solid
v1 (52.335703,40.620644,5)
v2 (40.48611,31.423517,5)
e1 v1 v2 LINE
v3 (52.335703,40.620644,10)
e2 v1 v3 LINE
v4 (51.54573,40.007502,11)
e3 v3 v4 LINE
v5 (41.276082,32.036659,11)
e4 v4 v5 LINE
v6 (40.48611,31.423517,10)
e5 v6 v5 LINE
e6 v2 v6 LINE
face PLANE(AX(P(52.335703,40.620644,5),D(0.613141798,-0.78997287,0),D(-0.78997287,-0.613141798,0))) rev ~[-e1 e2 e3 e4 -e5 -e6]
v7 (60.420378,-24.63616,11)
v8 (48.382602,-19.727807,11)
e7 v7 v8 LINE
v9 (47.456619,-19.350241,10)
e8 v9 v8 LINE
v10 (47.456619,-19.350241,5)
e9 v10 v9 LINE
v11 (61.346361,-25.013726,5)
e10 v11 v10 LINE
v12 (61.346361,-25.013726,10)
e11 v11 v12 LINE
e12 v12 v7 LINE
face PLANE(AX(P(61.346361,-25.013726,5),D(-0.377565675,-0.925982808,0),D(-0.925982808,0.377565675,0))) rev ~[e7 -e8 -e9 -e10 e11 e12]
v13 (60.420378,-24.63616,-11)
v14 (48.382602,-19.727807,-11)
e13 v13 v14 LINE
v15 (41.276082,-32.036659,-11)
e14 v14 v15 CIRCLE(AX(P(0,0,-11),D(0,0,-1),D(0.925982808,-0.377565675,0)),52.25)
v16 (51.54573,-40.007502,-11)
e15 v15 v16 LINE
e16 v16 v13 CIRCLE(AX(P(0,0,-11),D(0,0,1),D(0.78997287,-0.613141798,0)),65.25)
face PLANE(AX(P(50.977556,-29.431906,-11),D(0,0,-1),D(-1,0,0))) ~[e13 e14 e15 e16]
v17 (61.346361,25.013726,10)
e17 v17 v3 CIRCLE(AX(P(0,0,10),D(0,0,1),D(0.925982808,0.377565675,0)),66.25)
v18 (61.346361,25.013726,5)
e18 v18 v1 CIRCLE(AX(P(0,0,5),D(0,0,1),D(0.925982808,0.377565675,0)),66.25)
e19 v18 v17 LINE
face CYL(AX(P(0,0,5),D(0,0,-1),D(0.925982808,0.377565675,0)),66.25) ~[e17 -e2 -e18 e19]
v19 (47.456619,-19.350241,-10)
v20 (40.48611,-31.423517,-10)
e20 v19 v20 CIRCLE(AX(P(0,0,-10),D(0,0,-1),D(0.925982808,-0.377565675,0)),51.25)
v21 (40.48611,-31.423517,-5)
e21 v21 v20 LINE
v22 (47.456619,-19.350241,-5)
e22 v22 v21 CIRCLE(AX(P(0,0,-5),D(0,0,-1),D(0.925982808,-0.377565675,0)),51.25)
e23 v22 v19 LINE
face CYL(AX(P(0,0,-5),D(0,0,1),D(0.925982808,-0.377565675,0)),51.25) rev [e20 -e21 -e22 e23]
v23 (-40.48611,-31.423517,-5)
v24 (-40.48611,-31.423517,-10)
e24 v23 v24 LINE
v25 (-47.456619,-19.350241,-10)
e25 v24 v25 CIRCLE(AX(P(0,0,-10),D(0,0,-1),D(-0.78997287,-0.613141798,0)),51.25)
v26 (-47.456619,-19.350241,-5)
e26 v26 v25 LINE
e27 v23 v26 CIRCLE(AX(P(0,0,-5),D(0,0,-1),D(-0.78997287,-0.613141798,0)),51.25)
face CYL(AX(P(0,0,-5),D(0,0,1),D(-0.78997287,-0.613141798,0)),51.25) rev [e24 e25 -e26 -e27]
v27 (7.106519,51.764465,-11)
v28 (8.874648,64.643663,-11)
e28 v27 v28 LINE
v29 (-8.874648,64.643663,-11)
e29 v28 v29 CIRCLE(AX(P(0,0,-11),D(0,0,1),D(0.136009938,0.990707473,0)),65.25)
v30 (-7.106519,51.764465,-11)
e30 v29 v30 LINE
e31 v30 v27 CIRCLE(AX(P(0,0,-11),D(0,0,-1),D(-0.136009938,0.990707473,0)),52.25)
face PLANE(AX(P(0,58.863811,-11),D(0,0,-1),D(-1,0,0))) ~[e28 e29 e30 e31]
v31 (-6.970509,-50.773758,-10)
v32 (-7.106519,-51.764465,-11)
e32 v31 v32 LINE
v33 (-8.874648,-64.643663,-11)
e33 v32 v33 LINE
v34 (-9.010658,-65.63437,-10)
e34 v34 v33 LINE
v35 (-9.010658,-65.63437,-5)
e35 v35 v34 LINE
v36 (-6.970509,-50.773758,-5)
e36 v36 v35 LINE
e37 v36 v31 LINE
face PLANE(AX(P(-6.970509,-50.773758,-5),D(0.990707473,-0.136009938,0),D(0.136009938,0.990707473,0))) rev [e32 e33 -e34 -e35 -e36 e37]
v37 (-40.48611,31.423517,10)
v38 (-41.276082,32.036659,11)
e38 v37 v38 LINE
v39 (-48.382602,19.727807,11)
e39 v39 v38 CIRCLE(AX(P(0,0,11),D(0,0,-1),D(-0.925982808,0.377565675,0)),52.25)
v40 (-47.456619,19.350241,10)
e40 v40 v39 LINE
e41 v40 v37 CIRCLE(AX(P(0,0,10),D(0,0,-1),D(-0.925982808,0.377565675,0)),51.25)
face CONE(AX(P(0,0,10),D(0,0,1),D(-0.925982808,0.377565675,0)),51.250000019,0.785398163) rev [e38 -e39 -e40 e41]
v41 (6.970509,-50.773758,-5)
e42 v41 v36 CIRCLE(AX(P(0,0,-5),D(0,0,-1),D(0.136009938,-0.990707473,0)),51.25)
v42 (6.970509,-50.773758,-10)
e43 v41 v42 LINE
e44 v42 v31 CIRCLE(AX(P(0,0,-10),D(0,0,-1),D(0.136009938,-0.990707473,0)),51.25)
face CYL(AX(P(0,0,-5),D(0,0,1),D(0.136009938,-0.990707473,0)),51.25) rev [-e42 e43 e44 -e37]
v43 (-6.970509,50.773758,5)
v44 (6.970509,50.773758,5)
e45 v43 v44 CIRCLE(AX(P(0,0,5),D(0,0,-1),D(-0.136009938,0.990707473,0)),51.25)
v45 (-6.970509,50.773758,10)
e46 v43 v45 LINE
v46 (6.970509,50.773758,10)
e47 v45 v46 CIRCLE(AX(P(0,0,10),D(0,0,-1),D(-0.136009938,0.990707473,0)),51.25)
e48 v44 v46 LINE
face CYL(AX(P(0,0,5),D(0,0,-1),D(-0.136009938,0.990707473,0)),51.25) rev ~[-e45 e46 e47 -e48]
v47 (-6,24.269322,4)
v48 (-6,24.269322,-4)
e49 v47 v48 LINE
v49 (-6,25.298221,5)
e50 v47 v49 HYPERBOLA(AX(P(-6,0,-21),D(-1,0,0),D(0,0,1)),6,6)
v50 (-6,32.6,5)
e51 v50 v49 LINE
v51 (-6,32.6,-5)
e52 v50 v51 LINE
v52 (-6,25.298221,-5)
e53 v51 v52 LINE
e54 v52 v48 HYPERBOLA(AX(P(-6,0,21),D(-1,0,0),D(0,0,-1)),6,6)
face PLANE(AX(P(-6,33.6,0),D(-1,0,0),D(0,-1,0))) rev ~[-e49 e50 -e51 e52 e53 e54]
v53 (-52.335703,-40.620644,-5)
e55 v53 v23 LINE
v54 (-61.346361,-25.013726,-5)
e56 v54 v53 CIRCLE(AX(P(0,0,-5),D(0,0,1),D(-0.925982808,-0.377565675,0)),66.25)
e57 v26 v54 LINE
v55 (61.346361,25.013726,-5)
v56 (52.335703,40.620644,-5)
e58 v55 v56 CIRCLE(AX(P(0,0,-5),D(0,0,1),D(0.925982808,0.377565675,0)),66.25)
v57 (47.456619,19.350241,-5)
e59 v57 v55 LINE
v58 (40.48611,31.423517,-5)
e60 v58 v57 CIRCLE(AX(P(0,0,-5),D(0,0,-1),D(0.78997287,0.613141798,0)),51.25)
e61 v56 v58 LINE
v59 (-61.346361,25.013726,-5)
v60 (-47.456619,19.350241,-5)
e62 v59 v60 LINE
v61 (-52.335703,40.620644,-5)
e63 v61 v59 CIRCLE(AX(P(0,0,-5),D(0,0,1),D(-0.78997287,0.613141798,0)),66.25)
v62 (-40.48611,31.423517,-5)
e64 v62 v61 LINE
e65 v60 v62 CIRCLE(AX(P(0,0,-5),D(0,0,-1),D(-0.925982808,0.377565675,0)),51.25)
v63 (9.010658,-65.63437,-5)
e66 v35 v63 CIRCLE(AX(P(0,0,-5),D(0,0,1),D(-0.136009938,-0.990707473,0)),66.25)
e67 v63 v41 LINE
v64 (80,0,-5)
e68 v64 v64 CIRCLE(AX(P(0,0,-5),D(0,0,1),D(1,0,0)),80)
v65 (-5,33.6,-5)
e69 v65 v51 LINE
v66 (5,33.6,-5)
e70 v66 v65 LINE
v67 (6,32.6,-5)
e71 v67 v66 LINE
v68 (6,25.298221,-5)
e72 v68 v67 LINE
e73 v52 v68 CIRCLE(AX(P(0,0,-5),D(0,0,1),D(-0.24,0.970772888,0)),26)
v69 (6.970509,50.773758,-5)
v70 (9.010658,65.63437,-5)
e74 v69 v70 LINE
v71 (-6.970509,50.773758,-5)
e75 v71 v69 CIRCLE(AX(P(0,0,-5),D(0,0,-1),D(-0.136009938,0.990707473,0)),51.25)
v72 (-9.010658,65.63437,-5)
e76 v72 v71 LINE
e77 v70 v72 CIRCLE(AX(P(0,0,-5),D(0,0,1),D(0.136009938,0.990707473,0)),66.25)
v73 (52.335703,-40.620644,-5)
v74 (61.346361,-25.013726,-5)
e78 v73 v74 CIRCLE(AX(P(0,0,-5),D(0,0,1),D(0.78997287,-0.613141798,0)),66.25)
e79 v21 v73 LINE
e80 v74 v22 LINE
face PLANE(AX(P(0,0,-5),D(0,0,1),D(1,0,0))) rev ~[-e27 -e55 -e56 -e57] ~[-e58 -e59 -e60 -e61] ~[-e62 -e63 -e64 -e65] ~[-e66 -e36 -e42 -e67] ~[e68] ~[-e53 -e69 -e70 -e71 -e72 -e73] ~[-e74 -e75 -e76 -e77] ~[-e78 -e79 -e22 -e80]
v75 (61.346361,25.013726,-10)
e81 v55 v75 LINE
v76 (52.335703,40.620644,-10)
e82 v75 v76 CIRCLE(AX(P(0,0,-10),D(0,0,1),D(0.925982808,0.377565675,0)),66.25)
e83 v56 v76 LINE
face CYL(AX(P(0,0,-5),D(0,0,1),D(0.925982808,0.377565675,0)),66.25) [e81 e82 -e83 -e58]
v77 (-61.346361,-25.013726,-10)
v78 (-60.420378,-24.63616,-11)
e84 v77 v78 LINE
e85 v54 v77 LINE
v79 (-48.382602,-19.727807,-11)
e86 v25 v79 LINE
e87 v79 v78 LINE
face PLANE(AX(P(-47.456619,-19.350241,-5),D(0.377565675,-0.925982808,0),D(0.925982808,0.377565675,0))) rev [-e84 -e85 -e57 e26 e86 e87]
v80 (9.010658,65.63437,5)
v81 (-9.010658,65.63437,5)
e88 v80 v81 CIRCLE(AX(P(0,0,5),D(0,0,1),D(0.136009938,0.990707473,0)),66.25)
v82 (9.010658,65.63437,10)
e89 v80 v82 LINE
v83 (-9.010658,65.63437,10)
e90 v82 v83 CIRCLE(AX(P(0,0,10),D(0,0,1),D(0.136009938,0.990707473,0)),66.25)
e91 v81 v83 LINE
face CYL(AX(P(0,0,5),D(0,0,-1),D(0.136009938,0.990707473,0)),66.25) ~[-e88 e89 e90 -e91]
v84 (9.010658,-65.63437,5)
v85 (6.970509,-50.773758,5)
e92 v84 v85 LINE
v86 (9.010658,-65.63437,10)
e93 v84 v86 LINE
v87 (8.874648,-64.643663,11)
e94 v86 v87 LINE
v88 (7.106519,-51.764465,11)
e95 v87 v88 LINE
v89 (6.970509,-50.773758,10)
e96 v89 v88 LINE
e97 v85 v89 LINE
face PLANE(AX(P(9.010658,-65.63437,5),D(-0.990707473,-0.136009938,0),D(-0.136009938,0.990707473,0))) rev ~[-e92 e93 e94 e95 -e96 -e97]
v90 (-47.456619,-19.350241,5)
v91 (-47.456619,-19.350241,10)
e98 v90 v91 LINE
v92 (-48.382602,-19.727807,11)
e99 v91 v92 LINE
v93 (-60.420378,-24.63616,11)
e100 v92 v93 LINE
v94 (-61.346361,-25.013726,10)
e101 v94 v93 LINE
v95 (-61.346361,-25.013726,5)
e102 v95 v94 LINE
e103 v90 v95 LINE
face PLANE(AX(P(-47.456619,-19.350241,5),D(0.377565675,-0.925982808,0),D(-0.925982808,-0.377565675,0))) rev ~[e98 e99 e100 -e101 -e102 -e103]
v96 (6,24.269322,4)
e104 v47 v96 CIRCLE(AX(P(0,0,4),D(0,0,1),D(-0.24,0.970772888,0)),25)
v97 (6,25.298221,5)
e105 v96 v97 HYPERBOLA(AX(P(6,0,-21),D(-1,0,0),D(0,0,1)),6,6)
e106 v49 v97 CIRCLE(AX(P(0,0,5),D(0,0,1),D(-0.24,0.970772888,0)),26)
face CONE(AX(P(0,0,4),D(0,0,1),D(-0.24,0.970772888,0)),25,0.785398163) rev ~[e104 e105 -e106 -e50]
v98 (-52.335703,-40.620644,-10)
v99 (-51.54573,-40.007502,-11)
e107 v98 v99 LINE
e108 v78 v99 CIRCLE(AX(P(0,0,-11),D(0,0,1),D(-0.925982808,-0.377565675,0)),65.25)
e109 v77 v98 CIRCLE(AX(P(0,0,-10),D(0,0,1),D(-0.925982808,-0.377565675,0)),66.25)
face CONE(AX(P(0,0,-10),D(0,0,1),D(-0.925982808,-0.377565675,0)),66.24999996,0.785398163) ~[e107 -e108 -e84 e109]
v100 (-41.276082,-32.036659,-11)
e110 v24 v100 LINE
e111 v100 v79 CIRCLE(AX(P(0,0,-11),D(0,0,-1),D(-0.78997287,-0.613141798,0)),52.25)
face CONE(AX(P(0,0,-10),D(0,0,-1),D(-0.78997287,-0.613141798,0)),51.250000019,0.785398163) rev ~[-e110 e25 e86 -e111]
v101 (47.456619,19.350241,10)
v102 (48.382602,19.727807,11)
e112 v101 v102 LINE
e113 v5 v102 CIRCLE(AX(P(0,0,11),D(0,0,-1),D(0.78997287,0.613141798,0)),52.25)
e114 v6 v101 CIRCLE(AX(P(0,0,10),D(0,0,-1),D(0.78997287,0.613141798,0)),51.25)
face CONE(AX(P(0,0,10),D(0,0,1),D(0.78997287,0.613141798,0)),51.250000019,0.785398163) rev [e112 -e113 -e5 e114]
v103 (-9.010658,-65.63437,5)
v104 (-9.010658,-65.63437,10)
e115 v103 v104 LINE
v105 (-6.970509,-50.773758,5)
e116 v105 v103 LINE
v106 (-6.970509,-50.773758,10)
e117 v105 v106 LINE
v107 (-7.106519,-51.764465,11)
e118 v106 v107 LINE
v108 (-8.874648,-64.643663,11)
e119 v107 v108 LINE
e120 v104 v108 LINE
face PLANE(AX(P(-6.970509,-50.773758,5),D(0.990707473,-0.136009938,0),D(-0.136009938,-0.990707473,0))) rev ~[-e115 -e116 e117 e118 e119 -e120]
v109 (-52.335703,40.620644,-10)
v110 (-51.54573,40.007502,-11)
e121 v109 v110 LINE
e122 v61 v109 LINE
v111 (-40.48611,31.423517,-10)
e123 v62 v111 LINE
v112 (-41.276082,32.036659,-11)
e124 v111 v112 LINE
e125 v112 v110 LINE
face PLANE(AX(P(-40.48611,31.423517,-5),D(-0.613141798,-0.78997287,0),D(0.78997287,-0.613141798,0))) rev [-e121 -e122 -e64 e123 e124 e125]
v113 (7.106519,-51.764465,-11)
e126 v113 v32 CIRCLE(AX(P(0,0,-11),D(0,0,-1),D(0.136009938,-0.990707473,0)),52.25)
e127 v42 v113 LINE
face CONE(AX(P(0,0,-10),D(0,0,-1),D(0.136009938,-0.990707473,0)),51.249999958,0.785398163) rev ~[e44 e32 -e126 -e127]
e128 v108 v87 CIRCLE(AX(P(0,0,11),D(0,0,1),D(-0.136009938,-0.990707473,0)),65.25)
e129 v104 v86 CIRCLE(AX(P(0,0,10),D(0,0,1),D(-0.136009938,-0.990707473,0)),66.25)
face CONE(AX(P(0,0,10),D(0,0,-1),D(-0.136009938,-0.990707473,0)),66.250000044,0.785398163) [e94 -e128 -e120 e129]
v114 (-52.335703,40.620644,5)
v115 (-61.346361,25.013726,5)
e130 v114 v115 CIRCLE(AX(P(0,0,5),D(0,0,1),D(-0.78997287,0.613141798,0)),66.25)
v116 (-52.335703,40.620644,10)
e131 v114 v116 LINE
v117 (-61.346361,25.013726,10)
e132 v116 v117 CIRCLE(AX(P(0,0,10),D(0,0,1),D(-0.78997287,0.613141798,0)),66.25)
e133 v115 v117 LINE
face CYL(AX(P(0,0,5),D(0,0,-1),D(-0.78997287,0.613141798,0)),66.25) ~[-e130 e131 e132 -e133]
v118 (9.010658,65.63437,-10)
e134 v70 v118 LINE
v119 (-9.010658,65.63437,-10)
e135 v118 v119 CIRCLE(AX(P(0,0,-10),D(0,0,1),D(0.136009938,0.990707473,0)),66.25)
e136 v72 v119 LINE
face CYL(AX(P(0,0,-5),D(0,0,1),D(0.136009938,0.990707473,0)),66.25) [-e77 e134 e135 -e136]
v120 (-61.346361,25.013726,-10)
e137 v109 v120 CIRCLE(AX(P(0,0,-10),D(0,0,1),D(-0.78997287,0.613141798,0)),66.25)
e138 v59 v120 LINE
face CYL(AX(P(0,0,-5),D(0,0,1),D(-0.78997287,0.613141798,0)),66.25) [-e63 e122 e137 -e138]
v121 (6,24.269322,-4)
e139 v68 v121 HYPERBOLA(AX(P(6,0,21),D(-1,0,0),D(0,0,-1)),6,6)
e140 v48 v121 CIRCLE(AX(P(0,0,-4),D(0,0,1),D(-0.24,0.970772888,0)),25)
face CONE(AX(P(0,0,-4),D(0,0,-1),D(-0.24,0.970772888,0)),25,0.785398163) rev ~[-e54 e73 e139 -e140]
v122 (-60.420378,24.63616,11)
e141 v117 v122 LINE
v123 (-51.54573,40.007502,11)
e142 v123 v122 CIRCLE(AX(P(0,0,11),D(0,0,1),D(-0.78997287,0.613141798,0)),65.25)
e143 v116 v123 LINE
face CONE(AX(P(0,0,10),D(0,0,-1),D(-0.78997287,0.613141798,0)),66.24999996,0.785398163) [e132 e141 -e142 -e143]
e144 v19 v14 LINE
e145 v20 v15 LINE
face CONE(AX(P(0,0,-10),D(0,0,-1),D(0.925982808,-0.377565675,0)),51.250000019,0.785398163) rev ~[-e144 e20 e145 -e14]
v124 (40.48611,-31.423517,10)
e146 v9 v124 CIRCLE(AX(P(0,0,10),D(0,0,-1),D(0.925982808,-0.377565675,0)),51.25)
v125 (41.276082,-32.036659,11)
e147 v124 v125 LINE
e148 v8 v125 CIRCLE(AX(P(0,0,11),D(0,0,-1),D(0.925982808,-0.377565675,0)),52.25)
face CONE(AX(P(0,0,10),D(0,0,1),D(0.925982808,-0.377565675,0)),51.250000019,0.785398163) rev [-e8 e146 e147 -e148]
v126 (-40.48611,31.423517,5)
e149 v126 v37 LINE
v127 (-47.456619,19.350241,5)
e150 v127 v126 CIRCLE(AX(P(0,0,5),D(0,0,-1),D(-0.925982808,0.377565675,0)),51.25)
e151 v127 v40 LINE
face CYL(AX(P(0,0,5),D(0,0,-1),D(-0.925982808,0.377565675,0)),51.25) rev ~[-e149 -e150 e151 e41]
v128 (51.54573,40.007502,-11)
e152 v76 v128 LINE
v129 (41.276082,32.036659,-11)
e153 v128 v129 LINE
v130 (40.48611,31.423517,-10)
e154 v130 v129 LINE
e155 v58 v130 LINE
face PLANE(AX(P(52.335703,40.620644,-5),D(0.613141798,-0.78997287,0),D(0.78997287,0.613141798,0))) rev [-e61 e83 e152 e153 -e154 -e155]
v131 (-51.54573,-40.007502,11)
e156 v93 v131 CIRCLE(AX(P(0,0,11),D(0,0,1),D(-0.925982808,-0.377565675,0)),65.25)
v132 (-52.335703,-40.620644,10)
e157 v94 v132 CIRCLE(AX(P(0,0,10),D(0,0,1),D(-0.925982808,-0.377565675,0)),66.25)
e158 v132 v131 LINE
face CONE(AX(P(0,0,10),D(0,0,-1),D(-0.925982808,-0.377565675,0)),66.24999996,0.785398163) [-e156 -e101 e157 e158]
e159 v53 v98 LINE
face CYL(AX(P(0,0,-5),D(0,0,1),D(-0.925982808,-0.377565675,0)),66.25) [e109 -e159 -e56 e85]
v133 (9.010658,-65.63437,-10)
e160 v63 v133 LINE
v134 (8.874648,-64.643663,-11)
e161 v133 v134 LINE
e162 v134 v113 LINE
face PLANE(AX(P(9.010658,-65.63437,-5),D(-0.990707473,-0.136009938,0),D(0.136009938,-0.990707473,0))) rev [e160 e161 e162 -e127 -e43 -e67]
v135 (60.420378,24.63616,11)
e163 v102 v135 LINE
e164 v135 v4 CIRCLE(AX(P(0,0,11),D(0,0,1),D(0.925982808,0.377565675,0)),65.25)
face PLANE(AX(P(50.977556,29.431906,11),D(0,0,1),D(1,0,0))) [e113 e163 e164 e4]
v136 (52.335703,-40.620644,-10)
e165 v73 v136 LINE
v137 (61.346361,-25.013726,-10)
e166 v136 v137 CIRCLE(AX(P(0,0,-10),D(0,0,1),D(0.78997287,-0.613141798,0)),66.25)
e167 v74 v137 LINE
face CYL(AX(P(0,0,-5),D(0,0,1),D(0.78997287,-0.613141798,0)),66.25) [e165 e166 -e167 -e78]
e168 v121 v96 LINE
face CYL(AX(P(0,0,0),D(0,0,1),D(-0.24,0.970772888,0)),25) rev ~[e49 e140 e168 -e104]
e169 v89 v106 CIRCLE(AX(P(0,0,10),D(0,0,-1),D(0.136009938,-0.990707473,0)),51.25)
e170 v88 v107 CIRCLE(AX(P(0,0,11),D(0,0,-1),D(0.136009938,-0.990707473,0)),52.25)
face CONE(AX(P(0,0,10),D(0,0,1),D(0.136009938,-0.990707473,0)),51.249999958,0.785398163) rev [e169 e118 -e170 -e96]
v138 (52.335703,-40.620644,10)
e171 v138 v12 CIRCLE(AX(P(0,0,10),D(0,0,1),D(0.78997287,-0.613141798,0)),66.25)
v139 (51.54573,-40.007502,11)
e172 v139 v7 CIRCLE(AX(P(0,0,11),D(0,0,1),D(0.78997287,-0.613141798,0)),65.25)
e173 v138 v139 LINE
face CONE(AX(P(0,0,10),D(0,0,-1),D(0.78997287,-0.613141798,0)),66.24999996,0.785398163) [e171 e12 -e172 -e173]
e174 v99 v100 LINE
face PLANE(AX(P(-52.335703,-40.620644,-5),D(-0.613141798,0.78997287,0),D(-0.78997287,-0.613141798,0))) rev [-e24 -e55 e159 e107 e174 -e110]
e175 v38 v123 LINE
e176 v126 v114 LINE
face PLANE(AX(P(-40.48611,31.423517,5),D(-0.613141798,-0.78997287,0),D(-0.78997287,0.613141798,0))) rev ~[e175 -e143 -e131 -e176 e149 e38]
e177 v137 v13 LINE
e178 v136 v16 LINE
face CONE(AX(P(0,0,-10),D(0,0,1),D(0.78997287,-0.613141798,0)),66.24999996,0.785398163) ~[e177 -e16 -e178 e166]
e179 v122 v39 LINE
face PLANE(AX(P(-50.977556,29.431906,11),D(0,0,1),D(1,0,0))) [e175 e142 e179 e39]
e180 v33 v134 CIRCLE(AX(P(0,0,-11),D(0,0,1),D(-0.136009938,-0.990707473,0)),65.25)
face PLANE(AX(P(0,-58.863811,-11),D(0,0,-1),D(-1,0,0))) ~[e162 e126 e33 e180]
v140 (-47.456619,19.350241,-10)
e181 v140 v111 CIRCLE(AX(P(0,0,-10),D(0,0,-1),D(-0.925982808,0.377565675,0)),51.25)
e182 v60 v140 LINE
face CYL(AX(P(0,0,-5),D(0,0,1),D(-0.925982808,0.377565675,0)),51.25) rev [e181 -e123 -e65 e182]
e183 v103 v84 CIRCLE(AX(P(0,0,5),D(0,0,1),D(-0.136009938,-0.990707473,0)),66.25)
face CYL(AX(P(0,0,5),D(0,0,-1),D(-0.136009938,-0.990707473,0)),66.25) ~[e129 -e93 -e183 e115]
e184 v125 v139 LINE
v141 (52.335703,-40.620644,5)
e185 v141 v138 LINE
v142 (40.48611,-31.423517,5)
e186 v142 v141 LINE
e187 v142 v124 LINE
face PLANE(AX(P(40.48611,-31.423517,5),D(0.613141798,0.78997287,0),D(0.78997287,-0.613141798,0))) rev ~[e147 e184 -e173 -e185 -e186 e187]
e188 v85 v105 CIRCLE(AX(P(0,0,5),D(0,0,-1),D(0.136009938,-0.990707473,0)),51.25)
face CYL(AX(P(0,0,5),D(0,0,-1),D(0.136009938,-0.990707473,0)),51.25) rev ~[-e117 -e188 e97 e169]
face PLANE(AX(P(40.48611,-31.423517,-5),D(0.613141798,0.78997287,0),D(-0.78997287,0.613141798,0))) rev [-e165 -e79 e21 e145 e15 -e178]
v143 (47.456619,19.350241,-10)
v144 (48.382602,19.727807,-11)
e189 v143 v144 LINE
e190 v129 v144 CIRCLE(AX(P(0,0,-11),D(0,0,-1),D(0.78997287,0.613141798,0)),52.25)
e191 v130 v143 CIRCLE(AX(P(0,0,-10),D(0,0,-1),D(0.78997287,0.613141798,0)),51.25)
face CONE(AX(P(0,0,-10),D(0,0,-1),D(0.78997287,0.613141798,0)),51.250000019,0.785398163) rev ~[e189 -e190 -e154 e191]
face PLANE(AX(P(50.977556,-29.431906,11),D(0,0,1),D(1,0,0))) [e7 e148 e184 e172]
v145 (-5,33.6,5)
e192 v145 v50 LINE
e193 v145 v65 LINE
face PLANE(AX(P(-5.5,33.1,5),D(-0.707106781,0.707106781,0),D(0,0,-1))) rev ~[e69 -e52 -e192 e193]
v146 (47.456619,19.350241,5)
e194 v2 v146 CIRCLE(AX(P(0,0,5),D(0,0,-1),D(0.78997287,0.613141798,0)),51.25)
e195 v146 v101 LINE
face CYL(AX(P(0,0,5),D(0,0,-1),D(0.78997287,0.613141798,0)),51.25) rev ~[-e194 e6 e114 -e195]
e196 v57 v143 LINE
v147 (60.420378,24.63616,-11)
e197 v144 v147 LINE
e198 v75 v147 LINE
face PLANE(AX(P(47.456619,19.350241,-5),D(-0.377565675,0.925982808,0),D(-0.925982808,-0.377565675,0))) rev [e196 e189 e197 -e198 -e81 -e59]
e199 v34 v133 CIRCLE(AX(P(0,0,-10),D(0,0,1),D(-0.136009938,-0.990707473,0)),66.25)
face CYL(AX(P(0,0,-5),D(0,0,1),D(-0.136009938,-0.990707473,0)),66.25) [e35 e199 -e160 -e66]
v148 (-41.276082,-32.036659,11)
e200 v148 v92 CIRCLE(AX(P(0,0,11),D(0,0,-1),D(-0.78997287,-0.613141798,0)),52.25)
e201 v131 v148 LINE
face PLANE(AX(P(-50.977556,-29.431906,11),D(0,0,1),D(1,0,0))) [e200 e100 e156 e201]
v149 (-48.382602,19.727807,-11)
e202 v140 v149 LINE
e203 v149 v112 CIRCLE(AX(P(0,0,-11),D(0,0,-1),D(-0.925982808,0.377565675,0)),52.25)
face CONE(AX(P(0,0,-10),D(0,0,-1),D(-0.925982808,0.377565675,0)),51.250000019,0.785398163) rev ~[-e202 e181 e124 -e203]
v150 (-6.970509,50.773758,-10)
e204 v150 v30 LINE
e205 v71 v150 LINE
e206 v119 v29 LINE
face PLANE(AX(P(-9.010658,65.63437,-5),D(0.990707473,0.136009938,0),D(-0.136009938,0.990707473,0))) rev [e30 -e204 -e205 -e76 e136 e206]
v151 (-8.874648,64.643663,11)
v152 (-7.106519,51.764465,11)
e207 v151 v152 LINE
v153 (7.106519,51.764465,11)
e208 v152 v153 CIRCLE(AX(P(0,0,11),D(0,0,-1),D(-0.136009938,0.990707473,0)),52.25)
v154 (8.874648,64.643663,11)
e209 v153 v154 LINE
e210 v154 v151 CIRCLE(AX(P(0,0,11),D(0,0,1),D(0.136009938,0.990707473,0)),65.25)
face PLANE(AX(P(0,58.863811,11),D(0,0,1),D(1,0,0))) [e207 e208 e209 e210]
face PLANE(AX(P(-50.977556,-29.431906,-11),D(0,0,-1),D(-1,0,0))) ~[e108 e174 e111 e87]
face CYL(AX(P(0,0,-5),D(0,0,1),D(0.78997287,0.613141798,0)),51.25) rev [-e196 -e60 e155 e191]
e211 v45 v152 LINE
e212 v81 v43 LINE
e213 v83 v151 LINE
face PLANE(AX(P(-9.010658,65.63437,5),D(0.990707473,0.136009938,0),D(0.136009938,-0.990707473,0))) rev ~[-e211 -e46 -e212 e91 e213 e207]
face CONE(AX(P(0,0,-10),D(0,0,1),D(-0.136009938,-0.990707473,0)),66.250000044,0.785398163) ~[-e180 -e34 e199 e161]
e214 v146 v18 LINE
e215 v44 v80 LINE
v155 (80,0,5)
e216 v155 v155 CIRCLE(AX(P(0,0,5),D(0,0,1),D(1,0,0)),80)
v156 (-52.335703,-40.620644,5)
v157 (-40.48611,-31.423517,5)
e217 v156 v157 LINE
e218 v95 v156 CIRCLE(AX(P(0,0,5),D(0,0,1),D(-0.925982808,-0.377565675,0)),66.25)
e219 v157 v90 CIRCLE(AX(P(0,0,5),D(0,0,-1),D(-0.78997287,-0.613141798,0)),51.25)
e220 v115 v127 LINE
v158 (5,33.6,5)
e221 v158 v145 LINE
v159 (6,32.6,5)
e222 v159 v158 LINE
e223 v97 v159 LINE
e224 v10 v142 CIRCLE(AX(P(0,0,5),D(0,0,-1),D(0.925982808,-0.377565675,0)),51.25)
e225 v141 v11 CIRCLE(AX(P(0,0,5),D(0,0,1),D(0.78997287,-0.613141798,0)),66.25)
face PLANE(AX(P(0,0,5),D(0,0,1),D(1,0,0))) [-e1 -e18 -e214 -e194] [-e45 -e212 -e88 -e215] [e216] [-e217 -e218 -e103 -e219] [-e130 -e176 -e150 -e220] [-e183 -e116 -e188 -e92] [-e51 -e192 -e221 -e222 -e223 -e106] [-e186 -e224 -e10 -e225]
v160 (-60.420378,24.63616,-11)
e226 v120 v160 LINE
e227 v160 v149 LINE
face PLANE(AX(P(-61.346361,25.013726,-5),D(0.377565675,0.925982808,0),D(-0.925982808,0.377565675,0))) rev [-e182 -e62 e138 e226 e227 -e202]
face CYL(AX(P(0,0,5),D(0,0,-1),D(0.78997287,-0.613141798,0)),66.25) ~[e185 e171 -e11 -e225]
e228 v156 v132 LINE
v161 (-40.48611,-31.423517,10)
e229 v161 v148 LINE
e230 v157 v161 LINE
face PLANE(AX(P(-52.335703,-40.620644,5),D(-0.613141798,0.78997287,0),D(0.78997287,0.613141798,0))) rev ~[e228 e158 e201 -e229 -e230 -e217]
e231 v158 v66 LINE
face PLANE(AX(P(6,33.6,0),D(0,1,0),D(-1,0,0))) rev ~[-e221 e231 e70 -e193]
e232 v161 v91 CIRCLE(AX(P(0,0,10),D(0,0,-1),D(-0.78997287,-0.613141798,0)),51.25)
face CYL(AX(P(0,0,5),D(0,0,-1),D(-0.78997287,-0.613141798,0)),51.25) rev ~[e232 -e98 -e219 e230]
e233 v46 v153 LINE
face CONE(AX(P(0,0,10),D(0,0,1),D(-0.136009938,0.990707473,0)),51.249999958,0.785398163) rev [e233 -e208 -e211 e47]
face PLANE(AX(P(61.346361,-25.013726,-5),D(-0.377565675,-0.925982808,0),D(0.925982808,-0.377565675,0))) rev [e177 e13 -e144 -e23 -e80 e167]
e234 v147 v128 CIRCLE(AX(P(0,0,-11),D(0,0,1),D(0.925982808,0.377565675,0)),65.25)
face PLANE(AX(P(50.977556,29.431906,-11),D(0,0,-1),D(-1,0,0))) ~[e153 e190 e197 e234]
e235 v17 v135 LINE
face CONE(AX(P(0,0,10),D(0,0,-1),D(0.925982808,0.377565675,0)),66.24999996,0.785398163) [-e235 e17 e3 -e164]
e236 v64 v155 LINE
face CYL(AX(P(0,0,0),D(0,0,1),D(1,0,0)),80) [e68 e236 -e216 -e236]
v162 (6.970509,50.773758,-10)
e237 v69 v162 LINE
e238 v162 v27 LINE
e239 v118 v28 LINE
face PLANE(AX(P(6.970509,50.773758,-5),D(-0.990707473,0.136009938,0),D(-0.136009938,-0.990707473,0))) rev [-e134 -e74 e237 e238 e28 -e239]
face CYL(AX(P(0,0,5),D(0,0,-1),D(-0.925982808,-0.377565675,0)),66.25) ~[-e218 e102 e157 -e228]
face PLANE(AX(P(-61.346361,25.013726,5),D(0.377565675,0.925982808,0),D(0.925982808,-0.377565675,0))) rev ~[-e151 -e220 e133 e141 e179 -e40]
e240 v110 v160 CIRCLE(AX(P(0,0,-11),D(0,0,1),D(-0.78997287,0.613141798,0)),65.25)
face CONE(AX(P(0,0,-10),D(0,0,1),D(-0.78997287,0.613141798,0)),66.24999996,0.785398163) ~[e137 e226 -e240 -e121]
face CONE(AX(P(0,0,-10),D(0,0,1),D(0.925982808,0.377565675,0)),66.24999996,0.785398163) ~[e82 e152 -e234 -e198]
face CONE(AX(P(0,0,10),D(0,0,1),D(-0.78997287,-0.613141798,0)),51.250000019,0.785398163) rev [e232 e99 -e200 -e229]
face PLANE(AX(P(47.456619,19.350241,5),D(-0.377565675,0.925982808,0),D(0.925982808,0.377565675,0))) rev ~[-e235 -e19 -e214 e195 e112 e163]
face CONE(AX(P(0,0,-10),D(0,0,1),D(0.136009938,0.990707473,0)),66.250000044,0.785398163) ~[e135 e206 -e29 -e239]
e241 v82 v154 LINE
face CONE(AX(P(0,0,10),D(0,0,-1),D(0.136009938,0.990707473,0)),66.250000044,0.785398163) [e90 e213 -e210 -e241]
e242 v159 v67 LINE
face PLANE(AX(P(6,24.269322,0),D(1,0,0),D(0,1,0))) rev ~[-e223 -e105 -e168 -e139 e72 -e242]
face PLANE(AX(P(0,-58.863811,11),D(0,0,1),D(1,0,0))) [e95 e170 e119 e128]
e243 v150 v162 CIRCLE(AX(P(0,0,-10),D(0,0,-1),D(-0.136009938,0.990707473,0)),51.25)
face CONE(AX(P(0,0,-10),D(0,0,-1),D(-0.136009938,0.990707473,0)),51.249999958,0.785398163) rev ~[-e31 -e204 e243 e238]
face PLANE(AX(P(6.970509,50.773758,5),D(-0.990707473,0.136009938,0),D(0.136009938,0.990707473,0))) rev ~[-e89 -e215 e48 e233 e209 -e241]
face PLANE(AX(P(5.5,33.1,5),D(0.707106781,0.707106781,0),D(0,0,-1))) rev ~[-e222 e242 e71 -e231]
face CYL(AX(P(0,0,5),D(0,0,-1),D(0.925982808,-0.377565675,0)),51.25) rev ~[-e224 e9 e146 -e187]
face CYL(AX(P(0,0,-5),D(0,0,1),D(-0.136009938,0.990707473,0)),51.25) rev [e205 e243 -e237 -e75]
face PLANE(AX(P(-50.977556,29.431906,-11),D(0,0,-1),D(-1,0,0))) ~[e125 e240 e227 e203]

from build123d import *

# Parameters (mm, degrees)
SKETCH1_R                = 80
BOSS_EXTRUDE1_DEPTH      = 5
BOSS_EXTRUDE2_DEPTH      = 6
CHAMFER1_SIZE            = 1
CHAMFER1_OF_MIRROR1_SIZE = 1
CHAMFER2_SIZE            = 1
CHAMFER3_SIZE            = 1


with BuildPart() as part:
    # Sketch1 → Boss-Extrude1 (new body, symmetric)
    with BuildSketch(Plane.XY):
        Circle(SKETCH1_R)
        with BuildLine():
            Line((6, 24.269322199), (6, 33.6))
            Line((6, 33.6), (-6, 33.6))
            Line((-6, 33.6), (-6, 24.269322199))
            ThreePointArc((-6, 24.269322199), (0, -25), (6, 24.269322199))
        make_face(mode=Mode.SUBTRACT)
    extrude(amount=BOSS_EXTRUDE1_DEPTH, both=True)

    # Sketch2 → Boss-Extrude2 (add)
    with BuildSketch(Plane.XY.offset(5)):
        with BuildLine():
            ThreePointArc((-6.97050931, 50.773757985), (0, 51.25), (6.97050931, 50.773757985))
            Line((6.97050931, 50.773757985), (9.010658377, 65.634370079))
            ThreePointArc((9.010658377, 65.634370079), (0, 66.25), (-9.010658377, 65.634370079))
            Line((-9.010658377, 65.634370079), (-6.97050931, 50.773757985))
        make_face()
        with BuildLine():
            ThreePointArc((40.486109606, 31.423517133), (44.383801944, 25.625), (47.456618916, 19.350240853))
            Line((47.456618916, 19.350240853), (61.346361038, 25.01372598))
            ThreePointArc((61.346361038, 25.01372598), (57.374183001, 33.125), (52.335702661, 40.620644098))
            Line((52.335702661, 40.620644098), (40.486109606, 31.423517133))
        make_face()
        with BuildLine():
            ThreePointArc((47.456618916, -19.350240853), (44.383801944, -25.625), (40.486109606, -31.423517133))
            Line((40.486109606, -31.423517133), (52.335702661, -40.620644098))
            ThreePointArc((52.335702661, -40.620644098), (57.374183001, -33.125), (61.346361038, -25.01372598))
            Line((61.346361038, -25.01372598), (47.456618916, -19.350240853))
        make_face()
        with BuildLine():
            ThreePointArc((6.97050931, -50.773757985), (0, -51.25), (-6.97050931, -50.773757985))
            Line((-6.97050931, -50.773757985), (-9.010658377, -65.634370079))
            ThreePointArc((-9.010658377, -65.634370079), (0, -66.25), (9.010658377, -65.634370079))
            Line((9.010658377, -65.634370079), (6.97050931, -50.773757985))
        make_face()
        with BuildLine():
            ThreePointArc((-40.486109606, -31.423517133), (-44.383801944, -25.625), (-47.456618916, -19.350240853))
            Line((-47.456618916, -19.350240853), (-61.346361038, -25.01372598))
            ThreePointArc((-61.346361038, -25.01372598), (-57.374183001, -33.125), (-52.335702661, -40.620644098))
            Line((-52.335702661, -40.620644098), (-40.486109606, -31.423517133))
        make_face()
        with BuildLine():
            ThreePointArc((-47.456618916, 19.350240853), (-44.383801944, 25.625), (-40.486109606, 31.423517133))
            Line((-40.486109606, 31.423517133), (-52.335702661, 40.620644098))
            ThreePointArc((-52.335702661, 40.620644098), (-57.374183001, 33.125), (-61.346361038, 25.01372598))
            Line((-61.346361038, 25.01372598), (-47.456618916, 19.350240853))
        make_face()
    boss_extrude2 = extrude(amount=BOSS_EXTRUDE2_DEPTH)

    # Chamfer1
    chamfer1_edges = [part.edges().sort_by_distance(p)[0] for p in [
        (0, 51.25, 11),
        (0, 66.25, 11),
        (44.383801944, 25.625, 11),
        (57.374183001, 33.125, 11),
        (44.383801944, -25.625, 11),
        (57.374183001, -33.125, 11),
        (0, -51.25, 11),
        (0, -66.25, 11),
        (-44.383801944, -25.625, 11),
        (-57.374183001, -33.125, 11),
        (-44.383801944, 25.625, 11),
        (-57.374183001, 33.125, 11),
    ]]
    chamfer(chamfer1_edges, length=CHAMFER1_SIZE)

    # Mirror1: Boss-Extrude2 across plane
    add(boss_extrude2.mirror(Plane.XY))

    # Chamfer1 of Mirror1
    chamfer1_of_mirror1_edges = [part.edges().sort_by_distance(p)[0] for p in [
        (0, 51.25, -11),
        (0, 66.25, -11),
        (44.383801944, 25.625, -11),
        (57.374183001, 33.125, -11),
        (44.383801944, -25.625, -11),
        (57.374183001, -33.125, -11),
        (0, -51.25, -11),
        (0, -66.25, -11),
        (-44.383801944, -25.625, -11),
        (-57.374183001, -33.125, -11),
        (-44.383801944, 25.625, -11),
        (-57.374183001, 33.125, -11),
    ]]
    chamfer(chamfer1_of_mirror1_edges, length=CHAMFER1_OF_MIRROR1_SIZE)

    # Chamfer2
    chamfer2_edges = [part.edges().sort_by_distance(p)[0] for p in [
        (0, -25, 5),
        (0, -25, -5),
    ]]
    chamfer(chamfer2_edges, length=CHAMFER2_SIZE)

    # Chamfer3
    chamfer3_edges = [part.edges().sort_by_distance(p)[0] for p in [
        (6, 33.6, 0),
        (-6, 33.6, 0),
    ]]
    chamfer(chamfer3_edges, length=CHAMFER3_SIZE)


solid = part.part
